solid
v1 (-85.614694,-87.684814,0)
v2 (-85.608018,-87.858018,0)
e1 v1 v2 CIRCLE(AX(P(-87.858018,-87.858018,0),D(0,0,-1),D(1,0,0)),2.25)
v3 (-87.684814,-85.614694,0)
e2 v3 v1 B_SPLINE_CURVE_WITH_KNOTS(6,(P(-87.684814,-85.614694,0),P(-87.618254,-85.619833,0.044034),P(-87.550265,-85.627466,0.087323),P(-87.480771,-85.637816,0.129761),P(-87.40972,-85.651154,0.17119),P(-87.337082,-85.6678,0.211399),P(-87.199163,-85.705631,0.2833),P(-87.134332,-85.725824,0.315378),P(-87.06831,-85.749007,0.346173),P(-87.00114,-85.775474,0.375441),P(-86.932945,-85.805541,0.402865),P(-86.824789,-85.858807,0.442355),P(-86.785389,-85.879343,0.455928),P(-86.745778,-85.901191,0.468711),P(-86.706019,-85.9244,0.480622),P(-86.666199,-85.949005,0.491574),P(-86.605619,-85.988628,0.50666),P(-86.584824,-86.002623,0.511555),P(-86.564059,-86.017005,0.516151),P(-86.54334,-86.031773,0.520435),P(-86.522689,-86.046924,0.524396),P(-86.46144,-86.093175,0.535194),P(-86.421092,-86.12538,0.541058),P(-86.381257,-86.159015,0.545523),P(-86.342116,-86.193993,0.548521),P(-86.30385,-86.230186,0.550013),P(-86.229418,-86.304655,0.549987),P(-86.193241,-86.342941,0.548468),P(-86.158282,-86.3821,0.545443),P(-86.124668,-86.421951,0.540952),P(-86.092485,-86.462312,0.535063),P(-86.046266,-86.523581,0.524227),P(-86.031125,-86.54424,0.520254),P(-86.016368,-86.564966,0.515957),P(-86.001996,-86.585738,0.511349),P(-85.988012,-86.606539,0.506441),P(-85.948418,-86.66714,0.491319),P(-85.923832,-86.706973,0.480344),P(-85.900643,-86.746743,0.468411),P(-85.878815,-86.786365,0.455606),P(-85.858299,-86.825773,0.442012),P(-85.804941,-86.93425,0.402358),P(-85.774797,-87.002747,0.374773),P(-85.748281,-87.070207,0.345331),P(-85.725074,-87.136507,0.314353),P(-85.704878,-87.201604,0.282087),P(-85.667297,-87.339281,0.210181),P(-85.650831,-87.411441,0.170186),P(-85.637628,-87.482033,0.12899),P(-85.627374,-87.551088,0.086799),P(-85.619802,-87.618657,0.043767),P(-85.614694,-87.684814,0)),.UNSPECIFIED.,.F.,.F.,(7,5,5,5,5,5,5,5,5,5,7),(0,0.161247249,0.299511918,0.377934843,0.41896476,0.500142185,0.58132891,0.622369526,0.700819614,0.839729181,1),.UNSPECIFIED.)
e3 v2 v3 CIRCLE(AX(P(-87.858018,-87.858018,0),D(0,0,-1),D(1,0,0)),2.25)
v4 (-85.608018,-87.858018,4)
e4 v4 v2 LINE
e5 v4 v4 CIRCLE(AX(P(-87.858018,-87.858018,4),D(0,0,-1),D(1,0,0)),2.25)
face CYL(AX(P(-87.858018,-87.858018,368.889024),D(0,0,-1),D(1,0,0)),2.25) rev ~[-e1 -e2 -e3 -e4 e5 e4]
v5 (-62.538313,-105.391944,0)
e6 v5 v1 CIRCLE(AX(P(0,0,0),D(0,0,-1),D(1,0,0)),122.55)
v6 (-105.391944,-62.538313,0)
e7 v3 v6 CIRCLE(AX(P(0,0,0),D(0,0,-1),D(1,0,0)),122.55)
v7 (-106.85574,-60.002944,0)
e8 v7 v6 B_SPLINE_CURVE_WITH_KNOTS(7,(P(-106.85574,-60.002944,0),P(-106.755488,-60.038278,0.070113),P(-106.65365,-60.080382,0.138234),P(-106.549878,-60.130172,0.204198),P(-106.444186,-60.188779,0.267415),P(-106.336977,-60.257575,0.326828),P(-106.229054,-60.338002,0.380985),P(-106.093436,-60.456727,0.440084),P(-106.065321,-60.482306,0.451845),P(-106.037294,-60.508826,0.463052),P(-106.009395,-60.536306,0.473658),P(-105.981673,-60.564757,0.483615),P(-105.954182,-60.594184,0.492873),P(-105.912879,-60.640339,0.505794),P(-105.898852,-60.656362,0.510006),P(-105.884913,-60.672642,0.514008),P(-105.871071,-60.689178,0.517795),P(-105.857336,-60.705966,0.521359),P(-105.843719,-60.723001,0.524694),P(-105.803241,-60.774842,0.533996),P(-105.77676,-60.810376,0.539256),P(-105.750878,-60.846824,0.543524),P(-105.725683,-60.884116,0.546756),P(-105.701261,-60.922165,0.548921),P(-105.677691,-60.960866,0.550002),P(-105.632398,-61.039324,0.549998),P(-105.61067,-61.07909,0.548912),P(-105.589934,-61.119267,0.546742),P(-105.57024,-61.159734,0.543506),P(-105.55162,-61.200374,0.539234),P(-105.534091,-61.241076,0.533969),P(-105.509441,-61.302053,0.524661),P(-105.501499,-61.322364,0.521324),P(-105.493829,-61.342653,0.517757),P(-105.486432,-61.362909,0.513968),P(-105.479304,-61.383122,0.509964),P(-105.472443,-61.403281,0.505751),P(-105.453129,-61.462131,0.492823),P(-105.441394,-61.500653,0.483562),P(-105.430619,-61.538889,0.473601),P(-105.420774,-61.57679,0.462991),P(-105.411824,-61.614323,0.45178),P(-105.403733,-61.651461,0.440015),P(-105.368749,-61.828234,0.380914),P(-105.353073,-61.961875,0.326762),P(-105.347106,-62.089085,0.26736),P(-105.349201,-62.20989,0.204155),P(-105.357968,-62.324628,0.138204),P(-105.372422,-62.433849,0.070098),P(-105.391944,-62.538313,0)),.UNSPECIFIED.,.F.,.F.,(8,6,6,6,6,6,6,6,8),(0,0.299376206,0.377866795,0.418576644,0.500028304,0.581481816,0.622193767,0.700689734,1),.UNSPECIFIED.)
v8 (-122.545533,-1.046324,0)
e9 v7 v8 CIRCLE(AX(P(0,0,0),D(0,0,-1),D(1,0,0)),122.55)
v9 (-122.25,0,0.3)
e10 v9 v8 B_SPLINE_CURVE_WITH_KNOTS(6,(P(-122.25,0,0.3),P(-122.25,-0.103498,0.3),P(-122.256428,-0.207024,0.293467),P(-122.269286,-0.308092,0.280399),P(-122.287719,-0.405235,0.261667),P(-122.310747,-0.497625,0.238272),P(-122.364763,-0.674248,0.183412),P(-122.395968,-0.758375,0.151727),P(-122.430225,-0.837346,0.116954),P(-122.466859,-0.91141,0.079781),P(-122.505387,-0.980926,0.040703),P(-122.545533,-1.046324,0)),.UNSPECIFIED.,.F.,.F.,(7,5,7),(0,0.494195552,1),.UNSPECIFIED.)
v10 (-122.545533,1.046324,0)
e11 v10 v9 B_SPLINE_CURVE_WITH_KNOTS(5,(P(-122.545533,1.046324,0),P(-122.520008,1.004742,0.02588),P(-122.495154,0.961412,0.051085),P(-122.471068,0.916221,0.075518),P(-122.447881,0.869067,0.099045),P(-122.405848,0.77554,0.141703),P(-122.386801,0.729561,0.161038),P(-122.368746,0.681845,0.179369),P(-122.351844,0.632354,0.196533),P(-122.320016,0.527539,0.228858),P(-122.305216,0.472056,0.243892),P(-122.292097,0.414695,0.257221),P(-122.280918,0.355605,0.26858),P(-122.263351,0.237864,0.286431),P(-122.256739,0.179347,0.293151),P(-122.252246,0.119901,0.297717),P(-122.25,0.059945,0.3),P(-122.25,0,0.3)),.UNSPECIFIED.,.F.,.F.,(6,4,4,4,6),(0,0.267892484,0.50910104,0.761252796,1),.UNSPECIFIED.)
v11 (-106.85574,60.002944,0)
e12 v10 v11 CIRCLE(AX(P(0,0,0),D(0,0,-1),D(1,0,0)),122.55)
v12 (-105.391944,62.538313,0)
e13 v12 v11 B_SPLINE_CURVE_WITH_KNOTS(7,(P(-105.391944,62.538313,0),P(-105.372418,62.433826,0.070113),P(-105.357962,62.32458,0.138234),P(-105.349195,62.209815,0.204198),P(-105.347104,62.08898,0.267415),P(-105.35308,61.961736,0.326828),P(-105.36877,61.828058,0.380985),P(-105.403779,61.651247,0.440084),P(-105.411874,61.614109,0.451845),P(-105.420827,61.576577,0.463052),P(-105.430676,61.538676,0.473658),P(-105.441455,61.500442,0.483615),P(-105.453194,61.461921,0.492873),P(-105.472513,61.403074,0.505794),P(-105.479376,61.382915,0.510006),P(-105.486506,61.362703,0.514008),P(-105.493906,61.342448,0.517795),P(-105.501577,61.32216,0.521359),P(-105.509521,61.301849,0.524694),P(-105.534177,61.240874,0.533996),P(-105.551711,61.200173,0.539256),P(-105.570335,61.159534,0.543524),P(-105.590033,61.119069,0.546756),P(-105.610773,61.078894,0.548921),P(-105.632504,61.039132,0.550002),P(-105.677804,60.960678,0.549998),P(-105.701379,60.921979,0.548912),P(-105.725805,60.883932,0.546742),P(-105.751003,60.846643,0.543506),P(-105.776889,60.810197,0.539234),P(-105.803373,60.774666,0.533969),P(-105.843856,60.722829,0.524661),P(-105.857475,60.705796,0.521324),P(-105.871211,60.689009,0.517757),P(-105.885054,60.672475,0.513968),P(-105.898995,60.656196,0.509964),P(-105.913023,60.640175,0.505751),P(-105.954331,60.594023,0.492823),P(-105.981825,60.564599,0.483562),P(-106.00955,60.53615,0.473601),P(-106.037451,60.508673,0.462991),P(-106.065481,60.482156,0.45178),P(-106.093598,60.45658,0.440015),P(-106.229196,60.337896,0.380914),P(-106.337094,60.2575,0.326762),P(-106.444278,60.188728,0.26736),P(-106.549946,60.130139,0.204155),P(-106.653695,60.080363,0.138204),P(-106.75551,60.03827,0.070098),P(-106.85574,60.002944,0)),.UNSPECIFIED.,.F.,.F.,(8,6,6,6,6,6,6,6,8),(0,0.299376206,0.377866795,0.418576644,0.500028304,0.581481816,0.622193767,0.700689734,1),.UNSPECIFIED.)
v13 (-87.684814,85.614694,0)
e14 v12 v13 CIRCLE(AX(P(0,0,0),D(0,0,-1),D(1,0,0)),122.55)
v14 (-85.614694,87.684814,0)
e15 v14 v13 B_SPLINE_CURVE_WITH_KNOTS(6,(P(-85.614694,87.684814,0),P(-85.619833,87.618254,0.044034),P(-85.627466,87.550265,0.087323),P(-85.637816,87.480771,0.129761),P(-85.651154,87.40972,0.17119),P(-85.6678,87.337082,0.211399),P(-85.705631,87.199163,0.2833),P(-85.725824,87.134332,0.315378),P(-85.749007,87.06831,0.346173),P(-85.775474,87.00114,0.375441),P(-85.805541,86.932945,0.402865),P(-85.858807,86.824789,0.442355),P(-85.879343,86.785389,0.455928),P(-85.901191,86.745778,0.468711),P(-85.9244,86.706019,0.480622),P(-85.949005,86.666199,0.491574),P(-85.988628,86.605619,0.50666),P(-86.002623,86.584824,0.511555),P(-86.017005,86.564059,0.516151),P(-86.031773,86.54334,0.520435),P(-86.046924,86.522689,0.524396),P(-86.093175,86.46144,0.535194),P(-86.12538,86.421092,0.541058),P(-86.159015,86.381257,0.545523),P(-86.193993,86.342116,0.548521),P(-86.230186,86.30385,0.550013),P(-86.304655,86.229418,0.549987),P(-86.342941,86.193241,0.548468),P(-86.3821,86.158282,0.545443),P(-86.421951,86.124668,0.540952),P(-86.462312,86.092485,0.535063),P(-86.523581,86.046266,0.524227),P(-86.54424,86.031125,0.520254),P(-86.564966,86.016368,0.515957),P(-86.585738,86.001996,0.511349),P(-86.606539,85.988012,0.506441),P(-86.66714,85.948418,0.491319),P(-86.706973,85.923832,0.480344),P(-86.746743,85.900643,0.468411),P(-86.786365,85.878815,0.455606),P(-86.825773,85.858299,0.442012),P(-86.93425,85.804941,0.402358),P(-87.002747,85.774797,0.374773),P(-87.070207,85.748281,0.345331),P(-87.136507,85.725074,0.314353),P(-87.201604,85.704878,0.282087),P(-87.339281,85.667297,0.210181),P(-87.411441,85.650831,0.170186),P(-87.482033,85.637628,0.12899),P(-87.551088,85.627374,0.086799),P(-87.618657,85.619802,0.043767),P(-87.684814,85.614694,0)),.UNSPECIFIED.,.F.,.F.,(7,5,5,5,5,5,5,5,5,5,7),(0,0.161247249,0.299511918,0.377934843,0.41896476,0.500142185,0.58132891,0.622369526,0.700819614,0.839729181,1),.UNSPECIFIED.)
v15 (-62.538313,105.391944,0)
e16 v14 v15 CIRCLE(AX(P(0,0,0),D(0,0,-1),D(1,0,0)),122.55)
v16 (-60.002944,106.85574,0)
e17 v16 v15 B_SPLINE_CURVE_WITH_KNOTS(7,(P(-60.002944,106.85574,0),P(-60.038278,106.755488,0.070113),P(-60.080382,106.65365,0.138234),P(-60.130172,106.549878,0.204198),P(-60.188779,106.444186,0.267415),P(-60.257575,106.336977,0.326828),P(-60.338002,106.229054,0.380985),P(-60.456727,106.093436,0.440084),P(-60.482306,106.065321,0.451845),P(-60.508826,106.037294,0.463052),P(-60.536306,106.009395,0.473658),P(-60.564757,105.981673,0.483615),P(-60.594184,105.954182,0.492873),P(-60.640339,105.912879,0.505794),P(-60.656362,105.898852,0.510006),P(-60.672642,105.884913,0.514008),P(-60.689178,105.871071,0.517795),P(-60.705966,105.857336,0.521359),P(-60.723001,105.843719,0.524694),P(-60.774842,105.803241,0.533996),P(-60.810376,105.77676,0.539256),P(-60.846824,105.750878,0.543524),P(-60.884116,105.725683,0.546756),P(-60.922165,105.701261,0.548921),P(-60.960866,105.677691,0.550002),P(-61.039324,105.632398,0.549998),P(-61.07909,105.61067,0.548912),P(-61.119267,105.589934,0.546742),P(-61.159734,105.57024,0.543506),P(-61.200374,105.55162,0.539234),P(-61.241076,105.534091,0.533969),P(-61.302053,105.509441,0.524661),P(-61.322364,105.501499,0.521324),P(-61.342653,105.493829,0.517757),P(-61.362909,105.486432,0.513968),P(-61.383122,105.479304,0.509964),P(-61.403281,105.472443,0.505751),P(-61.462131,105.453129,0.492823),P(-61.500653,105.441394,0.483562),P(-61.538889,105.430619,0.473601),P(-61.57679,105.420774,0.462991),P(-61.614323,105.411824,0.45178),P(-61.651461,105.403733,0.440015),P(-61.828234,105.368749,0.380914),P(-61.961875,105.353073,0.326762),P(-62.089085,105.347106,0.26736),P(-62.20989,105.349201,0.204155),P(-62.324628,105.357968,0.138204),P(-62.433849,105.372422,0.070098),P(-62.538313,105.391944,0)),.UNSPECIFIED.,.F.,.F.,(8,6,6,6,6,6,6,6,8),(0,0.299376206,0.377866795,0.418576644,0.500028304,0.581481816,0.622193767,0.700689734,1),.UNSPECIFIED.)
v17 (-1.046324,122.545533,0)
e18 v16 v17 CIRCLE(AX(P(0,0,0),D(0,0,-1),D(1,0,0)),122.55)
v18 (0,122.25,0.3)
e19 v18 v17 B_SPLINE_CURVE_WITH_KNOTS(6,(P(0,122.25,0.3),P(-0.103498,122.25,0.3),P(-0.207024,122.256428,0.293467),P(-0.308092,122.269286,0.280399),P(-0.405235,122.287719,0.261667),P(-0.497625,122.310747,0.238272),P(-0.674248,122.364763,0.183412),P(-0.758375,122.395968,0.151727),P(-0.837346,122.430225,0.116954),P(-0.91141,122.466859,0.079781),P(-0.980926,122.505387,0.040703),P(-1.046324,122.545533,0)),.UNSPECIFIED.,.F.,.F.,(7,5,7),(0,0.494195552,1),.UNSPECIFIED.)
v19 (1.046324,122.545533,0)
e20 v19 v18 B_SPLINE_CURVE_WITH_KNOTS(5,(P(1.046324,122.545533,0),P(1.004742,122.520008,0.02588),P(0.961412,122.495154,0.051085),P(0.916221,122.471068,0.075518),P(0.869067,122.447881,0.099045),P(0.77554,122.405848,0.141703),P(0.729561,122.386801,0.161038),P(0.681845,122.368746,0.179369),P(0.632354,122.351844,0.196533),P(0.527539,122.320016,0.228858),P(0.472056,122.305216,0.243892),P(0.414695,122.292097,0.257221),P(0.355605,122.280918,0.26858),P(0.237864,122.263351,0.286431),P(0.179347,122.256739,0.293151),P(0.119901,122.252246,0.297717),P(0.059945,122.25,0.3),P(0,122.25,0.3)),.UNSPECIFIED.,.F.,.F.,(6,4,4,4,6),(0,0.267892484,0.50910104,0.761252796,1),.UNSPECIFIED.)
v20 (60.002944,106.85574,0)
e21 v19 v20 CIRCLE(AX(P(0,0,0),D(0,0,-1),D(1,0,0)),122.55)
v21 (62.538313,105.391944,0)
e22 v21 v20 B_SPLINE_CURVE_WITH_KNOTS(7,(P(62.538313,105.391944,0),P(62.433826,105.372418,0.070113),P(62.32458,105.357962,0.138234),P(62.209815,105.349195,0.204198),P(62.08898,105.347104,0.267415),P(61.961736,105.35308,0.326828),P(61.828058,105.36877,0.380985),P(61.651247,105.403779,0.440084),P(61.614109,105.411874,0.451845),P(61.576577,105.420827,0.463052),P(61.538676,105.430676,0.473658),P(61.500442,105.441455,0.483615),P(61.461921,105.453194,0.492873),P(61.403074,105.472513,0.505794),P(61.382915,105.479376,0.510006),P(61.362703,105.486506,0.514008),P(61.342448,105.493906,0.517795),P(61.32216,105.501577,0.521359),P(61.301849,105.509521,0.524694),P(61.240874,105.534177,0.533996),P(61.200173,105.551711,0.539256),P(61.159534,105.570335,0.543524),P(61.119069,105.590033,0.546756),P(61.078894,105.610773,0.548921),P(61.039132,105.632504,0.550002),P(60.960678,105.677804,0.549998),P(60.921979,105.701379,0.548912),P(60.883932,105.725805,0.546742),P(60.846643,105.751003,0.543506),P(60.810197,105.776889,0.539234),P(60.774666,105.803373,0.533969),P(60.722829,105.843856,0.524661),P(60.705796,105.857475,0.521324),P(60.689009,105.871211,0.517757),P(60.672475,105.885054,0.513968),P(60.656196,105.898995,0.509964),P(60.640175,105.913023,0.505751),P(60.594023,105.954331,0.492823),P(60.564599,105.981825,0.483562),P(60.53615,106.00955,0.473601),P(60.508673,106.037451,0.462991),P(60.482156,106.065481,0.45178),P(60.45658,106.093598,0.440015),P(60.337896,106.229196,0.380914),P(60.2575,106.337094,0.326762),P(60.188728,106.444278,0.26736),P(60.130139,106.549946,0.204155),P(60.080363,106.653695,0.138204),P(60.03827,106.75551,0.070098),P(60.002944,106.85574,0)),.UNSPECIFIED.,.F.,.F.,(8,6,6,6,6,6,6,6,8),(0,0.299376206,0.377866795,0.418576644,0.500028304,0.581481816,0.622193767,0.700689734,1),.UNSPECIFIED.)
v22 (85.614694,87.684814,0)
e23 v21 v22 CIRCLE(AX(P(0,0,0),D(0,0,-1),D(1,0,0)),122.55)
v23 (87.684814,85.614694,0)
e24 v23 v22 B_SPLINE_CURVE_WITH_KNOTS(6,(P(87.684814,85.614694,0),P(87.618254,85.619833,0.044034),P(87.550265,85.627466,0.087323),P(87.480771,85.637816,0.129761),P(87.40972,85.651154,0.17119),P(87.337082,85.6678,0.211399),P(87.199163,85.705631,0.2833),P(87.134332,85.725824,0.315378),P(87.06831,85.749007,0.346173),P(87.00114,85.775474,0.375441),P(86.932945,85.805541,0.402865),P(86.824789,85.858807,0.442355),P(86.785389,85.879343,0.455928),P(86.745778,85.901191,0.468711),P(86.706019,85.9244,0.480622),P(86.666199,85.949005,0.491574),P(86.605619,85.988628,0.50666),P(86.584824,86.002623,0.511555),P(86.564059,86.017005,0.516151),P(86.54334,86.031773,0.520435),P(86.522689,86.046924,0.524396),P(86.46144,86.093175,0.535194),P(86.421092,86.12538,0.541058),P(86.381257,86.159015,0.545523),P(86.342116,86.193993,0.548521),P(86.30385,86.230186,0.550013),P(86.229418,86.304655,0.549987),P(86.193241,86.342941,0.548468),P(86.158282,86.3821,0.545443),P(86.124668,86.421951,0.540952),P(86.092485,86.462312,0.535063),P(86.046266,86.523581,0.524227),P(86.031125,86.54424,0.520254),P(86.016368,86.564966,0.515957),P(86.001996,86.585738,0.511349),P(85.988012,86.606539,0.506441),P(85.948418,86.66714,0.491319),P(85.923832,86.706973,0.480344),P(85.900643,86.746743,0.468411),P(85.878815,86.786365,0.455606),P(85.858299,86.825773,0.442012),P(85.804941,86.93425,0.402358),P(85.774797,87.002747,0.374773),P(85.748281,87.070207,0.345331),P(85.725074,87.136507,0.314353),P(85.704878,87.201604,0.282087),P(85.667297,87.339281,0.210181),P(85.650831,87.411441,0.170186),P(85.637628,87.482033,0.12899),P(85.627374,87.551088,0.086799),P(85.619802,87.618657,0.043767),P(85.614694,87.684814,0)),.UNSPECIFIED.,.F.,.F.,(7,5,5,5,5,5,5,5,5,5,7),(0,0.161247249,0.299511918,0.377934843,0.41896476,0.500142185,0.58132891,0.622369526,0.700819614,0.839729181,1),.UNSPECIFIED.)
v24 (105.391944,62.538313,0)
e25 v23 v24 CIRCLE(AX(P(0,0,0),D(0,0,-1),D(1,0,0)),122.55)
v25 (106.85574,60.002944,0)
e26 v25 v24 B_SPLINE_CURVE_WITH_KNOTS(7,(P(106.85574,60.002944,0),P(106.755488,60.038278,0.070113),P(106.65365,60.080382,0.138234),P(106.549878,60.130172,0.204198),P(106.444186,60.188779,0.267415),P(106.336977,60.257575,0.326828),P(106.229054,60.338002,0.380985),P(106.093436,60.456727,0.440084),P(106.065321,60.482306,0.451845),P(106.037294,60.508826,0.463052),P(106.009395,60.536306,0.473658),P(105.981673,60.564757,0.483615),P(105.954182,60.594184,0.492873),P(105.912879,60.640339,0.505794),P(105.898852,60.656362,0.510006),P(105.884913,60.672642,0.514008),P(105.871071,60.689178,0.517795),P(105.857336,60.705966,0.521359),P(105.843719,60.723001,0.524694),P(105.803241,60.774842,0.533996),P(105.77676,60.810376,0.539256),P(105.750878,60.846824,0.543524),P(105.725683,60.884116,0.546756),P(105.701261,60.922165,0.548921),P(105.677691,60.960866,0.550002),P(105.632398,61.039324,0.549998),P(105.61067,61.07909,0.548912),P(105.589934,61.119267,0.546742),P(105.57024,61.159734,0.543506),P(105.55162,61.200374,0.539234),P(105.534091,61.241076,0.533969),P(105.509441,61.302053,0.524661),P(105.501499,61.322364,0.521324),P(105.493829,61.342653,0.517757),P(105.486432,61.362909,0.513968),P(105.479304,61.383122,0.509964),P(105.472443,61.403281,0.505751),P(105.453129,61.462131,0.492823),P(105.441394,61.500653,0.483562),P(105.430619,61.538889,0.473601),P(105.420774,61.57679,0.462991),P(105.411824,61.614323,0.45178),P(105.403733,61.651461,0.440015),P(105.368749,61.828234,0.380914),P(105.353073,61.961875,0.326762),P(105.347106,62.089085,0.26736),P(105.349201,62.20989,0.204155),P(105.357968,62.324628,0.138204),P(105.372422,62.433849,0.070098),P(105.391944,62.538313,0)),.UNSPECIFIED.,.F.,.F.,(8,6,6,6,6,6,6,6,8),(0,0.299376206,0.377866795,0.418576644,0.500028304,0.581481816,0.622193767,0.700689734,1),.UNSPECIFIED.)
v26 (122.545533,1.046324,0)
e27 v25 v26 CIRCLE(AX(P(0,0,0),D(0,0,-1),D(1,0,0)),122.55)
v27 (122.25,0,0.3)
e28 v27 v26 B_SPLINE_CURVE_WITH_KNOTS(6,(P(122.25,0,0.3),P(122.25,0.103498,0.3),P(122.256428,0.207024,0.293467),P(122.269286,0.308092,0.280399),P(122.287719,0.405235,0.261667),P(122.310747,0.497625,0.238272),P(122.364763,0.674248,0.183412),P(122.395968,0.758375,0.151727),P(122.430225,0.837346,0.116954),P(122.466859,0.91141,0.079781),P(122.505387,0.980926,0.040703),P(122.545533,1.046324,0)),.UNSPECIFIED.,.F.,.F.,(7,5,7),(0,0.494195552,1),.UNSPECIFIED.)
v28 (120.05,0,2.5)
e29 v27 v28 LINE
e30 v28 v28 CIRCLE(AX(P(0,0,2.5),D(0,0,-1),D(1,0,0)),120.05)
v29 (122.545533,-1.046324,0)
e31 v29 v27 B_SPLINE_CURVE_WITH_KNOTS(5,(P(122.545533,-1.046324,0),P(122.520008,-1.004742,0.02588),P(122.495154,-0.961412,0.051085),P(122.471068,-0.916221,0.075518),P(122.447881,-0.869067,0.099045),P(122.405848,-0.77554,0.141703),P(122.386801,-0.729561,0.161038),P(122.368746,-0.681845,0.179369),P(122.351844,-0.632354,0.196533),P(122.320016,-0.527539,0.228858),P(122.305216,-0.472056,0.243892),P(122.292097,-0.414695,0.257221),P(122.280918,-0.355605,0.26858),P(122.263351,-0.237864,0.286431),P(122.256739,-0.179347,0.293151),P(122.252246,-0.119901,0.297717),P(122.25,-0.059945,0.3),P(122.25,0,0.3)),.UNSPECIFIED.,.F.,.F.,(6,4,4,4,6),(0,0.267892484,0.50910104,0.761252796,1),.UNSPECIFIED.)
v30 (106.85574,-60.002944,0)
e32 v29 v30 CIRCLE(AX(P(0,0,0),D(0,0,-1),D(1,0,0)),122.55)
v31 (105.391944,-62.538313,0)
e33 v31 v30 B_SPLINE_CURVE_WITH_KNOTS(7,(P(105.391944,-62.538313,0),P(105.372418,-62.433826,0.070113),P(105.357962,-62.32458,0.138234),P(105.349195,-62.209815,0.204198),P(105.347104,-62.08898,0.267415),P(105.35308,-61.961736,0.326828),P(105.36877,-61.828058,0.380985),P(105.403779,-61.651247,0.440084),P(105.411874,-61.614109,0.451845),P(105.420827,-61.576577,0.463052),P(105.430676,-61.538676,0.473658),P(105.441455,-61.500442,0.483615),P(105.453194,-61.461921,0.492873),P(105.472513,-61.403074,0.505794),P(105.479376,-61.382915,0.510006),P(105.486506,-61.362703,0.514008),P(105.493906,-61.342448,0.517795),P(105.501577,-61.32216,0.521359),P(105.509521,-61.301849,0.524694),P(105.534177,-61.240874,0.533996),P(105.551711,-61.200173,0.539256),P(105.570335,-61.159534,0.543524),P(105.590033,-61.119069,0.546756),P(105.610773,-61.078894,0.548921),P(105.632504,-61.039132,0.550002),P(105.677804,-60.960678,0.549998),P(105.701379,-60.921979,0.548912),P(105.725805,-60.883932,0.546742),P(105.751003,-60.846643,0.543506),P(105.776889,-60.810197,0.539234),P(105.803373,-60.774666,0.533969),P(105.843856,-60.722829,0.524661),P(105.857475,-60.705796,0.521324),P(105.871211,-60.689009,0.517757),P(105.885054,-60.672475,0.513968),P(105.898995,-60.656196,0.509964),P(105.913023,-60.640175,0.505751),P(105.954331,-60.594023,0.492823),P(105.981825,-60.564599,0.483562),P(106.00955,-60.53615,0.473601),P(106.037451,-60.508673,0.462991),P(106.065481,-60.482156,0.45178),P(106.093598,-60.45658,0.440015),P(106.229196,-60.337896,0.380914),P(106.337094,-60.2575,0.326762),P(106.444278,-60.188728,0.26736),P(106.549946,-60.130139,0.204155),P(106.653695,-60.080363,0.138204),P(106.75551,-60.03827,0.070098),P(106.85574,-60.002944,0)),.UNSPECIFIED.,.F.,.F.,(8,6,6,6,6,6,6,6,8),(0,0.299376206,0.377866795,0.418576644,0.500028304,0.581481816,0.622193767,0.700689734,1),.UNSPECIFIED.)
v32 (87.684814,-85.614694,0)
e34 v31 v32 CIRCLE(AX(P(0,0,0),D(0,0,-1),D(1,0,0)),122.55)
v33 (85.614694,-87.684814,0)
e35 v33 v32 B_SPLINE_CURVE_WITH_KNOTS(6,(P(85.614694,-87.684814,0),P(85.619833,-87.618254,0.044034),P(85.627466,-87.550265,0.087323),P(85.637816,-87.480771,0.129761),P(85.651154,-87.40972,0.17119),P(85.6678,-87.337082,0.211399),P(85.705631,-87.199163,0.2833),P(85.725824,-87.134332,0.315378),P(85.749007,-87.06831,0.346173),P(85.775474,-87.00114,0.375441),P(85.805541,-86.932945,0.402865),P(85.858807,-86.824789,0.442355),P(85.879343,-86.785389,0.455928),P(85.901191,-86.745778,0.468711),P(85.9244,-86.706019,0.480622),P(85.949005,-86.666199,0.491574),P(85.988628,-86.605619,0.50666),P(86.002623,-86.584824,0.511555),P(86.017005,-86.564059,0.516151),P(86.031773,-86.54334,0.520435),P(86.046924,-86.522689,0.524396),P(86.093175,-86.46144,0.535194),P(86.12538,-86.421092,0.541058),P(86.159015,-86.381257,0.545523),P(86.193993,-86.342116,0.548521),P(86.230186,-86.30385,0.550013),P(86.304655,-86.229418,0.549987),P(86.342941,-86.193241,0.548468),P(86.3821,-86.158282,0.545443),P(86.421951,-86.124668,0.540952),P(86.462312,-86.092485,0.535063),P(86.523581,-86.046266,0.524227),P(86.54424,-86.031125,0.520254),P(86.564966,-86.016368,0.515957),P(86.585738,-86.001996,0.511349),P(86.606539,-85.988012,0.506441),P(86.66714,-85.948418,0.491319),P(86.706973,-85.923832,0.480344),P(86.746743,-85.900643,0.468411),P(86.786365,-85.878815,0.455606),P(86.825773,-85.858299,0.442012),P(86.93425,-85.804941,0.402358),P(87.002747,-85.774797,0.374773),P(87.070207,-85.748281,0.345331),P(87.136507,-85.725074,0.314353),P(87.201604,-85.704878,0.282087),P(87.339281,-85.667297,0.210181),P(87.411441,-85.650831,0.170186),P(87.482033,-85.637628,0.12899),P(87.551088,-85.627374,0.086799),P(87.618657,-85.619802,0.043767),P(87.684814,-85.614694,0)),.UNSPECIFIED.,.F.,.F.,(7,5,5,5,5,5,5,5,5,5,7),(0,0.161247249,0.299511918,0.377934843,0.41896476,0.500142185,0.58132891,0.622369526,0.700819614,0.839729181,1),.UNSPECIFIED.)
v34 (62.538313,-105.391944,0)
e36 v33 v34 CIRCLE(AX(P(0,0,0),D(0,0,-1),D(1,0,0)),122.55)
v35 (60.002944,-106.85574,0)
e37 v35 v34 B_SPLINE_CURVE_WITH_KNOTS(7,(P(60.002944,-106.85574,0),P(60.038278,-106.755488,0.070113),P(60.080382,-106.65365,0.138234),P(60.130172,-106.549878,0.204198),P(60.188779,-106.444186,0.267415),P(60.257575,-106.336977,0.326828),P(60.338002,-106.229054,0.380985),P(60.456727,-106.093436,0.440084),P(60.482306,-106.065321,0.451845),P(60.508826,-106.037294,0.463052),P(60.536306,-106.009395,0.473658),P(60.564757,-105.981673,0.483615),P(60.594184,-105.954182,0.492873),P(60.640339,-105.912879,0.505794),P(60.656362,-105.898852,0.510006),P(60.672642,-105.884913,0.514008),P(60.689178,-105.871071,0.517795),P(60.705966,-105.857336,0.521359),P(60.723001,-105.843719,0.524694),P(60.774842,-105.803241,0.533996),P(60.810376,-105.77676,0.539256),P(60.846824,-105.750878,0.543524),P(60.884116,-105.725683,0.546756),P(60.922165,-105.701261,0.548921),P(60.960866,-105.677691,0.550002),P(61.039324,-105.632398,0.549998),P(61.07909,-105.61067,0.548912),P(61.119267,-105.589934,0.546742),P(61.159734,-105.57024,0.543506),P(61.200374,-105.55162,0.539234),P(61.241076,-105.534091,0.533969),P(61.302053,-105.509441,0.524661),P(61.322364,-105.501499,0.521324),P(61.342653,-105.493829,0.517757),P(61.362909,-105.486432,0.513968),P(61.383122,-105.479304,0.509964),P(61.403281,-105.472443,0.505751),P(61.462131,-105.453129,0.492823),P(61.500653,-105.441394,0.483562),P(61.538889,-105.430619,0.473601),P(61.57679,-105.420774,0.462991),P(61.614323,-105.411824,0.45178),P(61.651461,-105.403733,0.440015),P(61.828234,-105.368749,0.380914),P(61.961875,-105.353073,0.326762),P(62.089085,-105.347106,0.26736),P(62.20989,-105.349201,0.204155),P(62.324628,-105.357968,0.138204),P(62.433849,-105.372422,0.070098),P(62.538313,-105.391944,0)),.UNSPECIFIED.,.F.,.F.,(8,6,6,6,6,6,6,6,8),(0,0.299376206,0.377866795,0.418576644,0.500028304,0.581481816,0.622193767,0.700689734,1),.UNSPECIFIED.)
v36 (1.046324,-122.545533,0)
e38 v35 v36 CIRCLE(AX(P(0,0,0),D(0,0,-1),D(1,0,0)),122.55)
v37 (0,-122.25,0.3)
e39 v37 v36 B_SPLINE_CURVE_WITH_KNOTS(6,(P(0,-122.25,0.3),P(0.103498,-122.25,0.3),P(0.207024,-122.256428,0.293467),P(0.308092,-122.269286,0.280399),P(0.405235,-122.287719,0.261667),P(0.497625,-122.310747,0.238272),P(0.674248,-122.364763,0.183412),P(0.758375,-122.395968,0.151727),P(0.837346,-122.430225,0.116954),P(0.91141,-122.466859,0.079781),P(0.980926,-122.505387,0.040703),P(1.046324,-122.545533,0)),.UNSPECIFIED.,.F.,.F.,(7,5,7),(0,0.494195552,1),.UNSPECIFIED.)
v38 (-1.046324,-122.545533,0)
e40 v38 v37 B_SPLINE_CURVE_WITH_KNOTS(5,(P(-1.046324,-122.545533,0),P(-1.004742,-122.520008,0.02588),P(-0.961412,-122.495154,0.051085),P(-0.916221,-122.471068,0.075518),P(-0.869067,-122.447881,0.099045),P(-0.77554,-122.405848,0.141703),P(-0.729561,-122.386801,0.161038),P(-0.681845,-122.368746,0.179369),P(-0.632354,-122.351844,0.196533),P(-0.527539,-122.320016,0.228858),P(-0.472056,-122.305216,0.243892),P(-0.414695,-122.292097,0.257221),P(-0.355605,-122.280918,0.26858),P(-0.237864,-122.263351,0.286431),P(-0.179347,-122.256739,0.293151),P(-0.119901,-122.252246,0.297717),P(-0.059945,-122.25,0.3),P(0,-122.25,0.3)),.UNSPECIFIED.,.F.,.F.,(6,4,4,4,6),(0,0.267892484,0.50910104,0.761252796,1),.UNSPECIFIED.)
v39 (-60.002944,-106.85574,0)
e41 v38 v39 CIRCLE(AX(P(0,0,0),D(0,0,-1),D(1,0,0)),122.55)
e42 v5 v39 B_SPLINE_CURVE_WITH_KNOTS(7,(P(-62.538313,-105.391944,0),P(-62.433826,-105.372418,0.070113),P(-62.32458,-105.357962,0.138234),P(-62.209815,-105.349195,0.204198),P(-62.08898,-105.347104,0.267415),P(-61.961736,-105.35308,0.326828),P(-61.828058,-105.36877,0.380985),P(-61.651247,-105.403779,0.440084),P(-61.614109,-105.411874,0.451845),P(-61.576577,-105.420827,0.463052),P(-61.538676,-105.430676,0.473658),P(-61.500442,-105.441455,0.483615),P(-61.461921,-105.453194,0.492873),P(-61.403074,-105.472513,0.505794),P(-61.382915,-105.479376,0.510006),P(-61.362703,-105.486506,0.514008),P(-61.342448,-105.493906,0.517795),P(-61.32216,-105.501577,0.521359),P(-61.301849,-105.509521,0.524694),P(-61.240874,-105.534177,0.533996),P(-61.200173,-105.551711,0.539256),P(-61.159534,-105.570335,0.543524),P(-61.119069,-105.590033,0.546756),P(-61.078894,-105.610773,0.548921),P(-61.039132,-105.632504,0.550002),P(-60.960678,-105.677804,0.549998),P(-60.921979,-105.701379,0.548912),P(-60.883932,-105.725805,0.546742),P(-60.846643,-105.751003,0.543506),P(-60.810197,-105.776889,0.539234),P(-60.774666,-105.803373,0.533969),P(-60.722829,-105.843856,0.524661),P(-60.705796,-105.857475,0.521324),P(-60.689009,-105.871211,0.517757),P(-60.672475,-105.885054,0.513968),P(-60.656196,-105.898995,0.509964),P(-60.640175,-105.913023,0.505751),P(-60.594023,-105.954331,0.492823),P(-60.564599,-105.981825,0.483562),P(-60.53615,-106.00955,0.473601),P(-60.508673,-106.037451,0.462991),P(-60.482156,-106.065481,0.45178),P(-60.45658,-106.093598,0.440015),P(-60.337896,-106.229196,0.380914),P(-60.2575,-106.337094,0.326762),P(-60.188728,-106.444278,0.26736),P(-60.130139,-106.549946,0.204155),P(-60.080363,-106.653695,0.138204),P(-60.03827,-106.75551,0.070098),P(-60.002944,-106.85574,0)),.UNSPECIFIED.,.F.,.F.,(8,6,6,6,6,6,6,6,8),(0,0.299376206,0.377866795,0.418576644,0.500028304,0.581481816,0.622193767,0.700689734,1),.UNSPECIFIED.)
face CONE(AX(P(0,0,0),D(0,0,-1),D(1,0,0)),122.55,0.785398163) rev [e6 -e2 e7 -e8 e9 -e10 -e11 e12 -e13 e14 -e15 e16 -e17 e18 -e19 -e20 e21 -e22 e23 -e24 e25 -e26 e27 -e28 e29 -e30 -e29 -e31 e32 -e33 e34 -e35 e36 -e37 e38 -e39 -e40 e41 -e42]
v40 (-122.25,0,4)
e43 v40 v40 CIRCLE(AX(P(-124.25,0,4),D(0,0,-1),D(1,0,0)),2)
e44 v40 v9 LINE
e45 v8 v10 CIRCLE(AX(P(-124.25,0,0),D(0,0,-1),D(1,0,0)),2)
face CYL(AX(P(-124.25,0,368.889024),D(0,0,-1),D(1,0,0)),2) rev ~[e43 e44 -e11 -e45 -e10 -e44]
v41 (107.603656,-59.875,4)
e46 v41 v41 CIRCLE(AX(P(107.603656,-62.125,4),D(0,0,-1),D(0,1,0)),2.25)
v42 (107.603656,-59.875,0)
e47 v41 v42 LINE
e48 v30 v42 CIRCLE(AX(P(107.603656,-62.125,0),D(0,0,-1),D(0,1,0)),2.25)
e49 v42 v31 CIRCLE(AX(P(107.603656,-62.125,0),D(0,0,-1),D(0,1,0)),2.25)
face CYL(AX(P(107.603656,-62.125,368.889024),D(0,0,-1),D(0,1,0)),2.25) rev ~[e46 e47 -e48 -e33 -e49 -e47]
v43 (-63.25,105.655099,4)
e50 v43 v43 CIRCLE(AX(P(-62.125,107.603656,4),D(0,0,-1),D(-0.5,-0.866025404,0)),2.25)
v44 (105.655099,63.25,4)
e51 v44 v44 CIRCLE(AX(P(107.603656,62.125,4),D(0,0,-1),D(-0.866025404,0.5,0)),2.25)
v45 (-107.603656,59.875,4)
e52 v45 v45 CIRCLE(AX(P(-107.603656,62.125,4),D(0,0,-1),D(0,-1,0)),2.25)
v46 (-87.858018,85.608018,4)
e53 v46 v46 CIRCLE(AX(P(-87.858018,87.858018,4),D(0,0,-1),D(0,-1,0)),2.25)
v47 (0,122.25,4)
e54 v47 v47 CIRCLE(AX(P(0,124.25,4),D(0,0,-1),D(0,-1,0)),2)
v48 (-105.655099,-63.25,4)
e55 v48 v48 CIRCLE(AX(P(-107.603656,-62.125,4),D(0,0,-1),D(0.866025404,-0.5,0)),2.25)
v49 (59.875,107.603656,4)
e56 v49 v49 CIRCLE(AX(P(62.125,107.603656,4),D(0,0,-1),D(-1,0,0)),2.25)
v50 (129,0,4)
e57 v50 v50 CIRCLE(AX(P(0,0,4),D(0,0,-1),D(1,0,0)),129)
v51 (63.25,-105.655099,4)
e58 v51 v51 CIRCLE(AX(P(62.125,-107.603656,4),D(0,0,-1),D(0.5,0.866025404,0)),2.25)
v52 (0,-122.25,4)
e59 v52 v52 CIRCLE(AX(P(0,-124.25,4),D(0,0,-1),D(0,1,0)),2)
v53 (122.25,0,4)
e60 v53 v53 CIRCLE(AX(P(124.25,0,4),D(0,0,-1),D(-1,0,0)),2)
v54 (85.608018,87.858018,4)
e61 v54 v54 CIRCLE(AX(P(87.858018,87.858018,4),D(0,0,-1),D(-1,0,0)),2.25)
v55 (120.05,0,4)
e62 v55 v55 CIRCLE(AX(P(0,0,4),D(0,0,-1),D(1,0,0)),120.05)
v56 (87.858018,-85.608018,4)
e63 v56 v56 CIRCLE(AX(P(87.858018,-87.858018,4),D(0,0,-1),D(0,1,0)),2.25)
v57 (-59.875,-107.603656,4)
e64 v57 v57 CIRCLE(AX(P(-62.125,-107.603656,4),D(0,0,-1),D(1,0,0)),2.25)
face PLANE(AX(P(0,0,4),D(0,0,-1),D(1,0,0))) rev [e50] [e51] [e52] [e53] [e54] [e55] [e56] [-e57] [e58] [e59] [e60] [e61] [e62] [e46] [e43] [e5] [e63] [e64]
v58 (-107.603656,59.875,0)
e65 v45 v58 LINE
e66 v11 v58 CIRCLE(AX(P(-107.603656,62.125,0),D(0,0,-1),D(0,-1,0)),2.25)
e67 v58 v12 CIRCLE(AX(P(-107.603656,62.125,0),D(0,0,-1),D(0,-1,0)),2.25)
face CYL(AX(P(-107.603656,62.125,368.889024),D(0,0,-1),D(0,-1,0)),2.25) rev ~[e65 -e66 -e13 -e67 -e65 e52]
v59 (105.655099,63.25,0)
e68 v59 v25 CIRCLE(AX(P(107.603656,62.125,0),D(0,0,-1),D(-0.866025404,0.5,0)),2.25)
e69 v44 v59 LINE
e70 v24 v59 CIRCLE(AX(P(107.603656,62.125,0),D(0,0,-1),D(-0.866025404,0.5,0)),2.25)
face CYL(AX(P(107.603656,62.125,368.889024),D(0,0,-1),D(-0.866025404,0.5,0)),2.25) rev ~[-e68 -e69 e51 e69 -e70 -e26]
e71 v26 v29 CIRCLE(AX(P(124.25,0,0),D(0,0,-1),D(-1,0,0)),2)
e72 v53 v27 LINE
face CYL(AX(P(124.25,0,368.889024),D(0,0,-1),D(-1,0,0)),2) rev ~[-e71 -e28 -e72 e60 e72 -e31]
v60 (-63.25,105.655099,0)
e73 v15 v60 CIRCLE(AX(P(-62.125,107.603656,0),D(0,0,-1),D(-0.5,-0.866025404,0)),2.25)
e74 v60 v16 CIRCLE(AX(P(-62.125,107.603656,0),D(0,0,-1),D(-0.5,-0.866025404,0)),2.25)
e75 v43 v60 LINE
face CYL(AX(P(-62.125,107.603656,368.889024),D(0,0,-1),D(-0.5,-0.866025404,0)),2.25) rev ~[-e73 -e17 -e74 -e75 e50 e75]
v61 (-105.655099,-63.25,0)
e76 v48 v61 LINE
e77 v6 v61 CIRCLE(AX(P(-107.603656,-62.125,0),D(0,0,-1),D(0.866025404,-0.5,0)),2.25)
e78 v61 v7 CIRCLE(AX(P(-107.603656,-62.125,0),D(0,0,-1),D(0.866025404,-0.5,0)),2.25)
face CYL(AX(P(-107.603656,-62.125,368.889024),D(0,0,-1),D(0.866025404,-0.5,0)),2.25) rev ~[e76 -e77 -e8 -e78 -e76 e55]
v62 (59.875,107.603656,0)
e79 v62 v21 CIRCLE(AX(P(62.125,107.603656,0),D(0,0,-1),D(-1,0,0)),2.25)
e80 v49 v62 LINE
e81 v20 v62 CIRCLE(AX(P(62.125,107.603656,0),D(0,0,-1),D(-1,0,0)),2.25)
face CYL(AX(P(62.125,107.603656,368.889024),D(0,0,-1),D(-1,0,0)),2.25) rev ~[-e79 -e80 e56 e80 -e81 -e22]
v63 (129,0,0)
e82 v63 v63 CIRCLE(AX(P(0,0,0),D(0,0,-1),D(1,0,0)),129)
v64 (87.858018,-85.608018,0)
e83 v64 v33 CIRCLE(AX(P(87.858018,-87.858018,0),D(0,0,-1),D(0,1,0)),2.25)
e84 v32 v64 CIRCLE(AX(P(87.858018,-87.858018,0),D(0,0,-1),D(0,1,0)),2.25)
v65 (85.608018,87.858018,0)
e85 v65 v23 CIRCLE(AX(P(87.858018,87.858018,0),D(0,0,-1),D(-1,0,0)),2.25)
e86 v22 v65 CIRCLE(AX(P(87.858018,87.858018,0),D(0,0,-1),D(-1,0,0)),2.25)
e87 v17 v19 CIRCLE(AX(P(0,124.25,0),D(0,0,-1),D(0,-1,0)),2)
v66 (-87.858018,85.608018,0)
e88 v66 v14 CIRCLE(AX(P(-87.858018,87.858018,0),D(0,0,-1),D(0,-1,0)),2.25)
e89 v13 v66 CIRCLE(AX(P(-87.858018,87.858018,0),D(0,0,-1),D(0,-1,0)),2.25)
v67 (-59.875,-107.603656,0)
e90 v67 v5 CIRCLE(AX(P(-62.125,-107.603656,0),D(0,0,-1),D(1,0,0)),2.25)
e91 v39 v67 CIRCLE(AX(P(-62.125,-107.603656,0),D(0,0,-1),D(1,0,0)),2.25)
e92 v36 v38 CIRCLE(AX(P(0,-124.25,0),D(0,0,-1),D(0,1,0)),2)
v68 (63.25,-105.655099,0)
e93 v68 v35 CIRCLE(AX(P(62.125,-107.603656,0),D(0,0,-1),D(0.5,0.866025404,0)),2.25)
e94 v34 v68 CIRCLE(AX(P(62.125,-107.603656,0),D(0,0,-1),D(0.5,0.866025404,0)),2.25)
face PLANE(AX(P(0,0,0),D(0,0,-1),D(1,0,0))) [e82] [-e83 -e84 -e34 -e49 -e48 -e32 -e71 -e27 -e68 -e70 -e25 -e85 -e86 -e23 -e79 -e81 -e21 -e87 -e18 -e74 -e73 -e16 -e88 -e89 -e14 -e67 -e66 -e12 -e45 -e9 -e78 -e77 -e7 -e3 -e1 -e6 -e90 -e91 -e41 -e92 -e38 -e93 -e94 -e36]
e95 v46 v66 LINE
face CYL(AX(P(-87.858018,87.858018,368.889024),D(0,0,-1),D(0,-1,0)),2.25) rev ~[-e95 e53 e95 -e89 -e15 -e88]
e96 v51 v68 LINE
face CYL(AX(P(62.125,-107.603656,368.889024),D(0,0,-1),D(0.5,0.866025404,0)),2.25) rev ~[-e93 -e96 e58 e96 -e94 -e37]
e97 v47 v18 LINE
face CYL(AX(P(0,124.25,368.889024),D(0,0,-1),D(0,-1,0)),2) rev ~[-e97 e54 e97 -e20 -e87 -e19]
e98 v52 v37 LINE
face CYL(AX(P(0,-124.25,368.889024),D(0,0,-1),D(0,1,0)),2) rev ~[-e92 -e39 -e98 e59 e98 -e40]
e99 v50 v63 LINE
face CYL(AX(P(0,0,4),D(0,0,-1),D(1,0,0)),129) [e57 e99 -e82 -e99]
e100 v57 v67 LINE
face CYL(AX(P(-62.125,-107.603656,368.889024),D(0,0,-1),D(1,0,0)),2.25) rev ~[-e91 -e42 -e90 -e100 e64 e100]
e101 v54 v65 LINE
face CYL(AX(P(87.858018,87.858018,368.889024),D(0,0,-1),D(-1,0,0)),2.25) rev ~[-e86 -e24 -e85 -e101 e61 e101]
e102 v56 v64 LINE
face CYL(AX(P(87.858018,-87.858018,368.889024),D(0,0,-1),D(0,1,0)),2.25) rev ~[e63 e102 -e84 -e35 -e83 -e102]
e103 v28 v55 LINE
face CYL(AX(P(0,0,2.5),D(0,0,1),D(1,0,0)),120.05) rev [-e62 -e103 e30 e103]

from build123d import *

# Parameters (mm, degrees)
F_4_5_4_5_DIAMETER_HOLE1_D = 4.5
CIRPATTERN1_COUNT          = 12
F_4_0_4_DIAMETER_HOLE1_D   = 4
CIRPATTERN2_COUNT          = 4
F_4_5_4_5_DIAMETER_HOLE2_D = 4.5
CIRPATTERN3_COUNT          = 4


with BuildPart() as part:
    # Sketch1 → Revolve1 (revolve)
    with BuildSketch(Plane(origin=(0, 0, 0), x_dir=(0, 0, -1), z_dir=(1, 0, 0)), mode=Mode.PRIVATE) as revolve1_sk:
        Polygon((0, 122.55), (-2.5, 120.05), (-4, 120.05), (-4, 129), (0, 129), align=None)
    revolve(revolve1_sk.sketch.rotate(Axis((0, 0, 27.349424097), (0, 0, -1)), 90), axis=Axis((0, 0, 27.349424097), (0, 0, -1)))  # turned: the seam where the file's is

    # Ø4.5 (4.5) Diameter Hole1 (through all)
    with Locations(Plane.XY.offset(4)):
        with Locations((62.125, 107.60365642)):
            f_4_5_4_5_diameter_hole1 = Hole(F_4_5_4_5_DIAMETER_HOLE1_D / 2)

    # CirPattern1: Ø4.5 (4.5) Diameter Hole1 ×12 about axis, 4 skipped
    cirpattern1_axis = Axis((0, 0, -80.9), (0, 0, 1))
    add([f_4_5_4_5_diameter_hole1.rotate(cirpattern1_axis, i * 360 / CIRPATTERN1_COUNT) for i in range(1, CIRPATTERN1_COUNT) if i not in (1, 4, 7, 10)], mode=Mode.SUBTRACT)

    # Ø4.0 (4) Diameter Hole1 (through all)
    with Locations(Plane.XY.offset(4)):
        with Locations((124.25, 0)):
            f_4_0_4_diameter_hole1 = Hole(F_4_0_4_DIAMETER_HOLE1_D / 2)

    # CirPattern2: Ø4.0 (4) Diameter Hole1 ×4 about axis
    cirpattern2_axis = Axis((0, 0, 0), (0, 0, 1))
    for i in range(1, CIRPATTERN2_COUNT):
        add(f_4_0_4_diameter_hole1.rotate(cirpattern2_axis, i * 360 / CIRPATTERN2_COUNT), mode=Mode.SUBTRACT)

    # Ø4.5 (4.5) Diameter Hole2 (through all)
    with Locations(Plane.XY.offset(4)):
        with Locations((87.858017562, 87.858017562)):
            f_4_5_4_5_diameter_hole2 = Hole(F_4_5_4_5_DIAMETER_HOLE2_D / 2)

    # CirPattern3: Ø4.5 (4.5) Diameter Hole2 ×4 about axis
    cirpattern3_axis = Axis((0, 0, 0), (0, 0, 1))
    for i in range(1, CIRPATTERN3_COUNT):
        add(f_4_5_4_5_diameter_hole2.rotate(cirpattern3_axis, i * 360 / CIRPATTERN3_COUNT), mode=Mode.SUBTRACT)


solid = part.part
